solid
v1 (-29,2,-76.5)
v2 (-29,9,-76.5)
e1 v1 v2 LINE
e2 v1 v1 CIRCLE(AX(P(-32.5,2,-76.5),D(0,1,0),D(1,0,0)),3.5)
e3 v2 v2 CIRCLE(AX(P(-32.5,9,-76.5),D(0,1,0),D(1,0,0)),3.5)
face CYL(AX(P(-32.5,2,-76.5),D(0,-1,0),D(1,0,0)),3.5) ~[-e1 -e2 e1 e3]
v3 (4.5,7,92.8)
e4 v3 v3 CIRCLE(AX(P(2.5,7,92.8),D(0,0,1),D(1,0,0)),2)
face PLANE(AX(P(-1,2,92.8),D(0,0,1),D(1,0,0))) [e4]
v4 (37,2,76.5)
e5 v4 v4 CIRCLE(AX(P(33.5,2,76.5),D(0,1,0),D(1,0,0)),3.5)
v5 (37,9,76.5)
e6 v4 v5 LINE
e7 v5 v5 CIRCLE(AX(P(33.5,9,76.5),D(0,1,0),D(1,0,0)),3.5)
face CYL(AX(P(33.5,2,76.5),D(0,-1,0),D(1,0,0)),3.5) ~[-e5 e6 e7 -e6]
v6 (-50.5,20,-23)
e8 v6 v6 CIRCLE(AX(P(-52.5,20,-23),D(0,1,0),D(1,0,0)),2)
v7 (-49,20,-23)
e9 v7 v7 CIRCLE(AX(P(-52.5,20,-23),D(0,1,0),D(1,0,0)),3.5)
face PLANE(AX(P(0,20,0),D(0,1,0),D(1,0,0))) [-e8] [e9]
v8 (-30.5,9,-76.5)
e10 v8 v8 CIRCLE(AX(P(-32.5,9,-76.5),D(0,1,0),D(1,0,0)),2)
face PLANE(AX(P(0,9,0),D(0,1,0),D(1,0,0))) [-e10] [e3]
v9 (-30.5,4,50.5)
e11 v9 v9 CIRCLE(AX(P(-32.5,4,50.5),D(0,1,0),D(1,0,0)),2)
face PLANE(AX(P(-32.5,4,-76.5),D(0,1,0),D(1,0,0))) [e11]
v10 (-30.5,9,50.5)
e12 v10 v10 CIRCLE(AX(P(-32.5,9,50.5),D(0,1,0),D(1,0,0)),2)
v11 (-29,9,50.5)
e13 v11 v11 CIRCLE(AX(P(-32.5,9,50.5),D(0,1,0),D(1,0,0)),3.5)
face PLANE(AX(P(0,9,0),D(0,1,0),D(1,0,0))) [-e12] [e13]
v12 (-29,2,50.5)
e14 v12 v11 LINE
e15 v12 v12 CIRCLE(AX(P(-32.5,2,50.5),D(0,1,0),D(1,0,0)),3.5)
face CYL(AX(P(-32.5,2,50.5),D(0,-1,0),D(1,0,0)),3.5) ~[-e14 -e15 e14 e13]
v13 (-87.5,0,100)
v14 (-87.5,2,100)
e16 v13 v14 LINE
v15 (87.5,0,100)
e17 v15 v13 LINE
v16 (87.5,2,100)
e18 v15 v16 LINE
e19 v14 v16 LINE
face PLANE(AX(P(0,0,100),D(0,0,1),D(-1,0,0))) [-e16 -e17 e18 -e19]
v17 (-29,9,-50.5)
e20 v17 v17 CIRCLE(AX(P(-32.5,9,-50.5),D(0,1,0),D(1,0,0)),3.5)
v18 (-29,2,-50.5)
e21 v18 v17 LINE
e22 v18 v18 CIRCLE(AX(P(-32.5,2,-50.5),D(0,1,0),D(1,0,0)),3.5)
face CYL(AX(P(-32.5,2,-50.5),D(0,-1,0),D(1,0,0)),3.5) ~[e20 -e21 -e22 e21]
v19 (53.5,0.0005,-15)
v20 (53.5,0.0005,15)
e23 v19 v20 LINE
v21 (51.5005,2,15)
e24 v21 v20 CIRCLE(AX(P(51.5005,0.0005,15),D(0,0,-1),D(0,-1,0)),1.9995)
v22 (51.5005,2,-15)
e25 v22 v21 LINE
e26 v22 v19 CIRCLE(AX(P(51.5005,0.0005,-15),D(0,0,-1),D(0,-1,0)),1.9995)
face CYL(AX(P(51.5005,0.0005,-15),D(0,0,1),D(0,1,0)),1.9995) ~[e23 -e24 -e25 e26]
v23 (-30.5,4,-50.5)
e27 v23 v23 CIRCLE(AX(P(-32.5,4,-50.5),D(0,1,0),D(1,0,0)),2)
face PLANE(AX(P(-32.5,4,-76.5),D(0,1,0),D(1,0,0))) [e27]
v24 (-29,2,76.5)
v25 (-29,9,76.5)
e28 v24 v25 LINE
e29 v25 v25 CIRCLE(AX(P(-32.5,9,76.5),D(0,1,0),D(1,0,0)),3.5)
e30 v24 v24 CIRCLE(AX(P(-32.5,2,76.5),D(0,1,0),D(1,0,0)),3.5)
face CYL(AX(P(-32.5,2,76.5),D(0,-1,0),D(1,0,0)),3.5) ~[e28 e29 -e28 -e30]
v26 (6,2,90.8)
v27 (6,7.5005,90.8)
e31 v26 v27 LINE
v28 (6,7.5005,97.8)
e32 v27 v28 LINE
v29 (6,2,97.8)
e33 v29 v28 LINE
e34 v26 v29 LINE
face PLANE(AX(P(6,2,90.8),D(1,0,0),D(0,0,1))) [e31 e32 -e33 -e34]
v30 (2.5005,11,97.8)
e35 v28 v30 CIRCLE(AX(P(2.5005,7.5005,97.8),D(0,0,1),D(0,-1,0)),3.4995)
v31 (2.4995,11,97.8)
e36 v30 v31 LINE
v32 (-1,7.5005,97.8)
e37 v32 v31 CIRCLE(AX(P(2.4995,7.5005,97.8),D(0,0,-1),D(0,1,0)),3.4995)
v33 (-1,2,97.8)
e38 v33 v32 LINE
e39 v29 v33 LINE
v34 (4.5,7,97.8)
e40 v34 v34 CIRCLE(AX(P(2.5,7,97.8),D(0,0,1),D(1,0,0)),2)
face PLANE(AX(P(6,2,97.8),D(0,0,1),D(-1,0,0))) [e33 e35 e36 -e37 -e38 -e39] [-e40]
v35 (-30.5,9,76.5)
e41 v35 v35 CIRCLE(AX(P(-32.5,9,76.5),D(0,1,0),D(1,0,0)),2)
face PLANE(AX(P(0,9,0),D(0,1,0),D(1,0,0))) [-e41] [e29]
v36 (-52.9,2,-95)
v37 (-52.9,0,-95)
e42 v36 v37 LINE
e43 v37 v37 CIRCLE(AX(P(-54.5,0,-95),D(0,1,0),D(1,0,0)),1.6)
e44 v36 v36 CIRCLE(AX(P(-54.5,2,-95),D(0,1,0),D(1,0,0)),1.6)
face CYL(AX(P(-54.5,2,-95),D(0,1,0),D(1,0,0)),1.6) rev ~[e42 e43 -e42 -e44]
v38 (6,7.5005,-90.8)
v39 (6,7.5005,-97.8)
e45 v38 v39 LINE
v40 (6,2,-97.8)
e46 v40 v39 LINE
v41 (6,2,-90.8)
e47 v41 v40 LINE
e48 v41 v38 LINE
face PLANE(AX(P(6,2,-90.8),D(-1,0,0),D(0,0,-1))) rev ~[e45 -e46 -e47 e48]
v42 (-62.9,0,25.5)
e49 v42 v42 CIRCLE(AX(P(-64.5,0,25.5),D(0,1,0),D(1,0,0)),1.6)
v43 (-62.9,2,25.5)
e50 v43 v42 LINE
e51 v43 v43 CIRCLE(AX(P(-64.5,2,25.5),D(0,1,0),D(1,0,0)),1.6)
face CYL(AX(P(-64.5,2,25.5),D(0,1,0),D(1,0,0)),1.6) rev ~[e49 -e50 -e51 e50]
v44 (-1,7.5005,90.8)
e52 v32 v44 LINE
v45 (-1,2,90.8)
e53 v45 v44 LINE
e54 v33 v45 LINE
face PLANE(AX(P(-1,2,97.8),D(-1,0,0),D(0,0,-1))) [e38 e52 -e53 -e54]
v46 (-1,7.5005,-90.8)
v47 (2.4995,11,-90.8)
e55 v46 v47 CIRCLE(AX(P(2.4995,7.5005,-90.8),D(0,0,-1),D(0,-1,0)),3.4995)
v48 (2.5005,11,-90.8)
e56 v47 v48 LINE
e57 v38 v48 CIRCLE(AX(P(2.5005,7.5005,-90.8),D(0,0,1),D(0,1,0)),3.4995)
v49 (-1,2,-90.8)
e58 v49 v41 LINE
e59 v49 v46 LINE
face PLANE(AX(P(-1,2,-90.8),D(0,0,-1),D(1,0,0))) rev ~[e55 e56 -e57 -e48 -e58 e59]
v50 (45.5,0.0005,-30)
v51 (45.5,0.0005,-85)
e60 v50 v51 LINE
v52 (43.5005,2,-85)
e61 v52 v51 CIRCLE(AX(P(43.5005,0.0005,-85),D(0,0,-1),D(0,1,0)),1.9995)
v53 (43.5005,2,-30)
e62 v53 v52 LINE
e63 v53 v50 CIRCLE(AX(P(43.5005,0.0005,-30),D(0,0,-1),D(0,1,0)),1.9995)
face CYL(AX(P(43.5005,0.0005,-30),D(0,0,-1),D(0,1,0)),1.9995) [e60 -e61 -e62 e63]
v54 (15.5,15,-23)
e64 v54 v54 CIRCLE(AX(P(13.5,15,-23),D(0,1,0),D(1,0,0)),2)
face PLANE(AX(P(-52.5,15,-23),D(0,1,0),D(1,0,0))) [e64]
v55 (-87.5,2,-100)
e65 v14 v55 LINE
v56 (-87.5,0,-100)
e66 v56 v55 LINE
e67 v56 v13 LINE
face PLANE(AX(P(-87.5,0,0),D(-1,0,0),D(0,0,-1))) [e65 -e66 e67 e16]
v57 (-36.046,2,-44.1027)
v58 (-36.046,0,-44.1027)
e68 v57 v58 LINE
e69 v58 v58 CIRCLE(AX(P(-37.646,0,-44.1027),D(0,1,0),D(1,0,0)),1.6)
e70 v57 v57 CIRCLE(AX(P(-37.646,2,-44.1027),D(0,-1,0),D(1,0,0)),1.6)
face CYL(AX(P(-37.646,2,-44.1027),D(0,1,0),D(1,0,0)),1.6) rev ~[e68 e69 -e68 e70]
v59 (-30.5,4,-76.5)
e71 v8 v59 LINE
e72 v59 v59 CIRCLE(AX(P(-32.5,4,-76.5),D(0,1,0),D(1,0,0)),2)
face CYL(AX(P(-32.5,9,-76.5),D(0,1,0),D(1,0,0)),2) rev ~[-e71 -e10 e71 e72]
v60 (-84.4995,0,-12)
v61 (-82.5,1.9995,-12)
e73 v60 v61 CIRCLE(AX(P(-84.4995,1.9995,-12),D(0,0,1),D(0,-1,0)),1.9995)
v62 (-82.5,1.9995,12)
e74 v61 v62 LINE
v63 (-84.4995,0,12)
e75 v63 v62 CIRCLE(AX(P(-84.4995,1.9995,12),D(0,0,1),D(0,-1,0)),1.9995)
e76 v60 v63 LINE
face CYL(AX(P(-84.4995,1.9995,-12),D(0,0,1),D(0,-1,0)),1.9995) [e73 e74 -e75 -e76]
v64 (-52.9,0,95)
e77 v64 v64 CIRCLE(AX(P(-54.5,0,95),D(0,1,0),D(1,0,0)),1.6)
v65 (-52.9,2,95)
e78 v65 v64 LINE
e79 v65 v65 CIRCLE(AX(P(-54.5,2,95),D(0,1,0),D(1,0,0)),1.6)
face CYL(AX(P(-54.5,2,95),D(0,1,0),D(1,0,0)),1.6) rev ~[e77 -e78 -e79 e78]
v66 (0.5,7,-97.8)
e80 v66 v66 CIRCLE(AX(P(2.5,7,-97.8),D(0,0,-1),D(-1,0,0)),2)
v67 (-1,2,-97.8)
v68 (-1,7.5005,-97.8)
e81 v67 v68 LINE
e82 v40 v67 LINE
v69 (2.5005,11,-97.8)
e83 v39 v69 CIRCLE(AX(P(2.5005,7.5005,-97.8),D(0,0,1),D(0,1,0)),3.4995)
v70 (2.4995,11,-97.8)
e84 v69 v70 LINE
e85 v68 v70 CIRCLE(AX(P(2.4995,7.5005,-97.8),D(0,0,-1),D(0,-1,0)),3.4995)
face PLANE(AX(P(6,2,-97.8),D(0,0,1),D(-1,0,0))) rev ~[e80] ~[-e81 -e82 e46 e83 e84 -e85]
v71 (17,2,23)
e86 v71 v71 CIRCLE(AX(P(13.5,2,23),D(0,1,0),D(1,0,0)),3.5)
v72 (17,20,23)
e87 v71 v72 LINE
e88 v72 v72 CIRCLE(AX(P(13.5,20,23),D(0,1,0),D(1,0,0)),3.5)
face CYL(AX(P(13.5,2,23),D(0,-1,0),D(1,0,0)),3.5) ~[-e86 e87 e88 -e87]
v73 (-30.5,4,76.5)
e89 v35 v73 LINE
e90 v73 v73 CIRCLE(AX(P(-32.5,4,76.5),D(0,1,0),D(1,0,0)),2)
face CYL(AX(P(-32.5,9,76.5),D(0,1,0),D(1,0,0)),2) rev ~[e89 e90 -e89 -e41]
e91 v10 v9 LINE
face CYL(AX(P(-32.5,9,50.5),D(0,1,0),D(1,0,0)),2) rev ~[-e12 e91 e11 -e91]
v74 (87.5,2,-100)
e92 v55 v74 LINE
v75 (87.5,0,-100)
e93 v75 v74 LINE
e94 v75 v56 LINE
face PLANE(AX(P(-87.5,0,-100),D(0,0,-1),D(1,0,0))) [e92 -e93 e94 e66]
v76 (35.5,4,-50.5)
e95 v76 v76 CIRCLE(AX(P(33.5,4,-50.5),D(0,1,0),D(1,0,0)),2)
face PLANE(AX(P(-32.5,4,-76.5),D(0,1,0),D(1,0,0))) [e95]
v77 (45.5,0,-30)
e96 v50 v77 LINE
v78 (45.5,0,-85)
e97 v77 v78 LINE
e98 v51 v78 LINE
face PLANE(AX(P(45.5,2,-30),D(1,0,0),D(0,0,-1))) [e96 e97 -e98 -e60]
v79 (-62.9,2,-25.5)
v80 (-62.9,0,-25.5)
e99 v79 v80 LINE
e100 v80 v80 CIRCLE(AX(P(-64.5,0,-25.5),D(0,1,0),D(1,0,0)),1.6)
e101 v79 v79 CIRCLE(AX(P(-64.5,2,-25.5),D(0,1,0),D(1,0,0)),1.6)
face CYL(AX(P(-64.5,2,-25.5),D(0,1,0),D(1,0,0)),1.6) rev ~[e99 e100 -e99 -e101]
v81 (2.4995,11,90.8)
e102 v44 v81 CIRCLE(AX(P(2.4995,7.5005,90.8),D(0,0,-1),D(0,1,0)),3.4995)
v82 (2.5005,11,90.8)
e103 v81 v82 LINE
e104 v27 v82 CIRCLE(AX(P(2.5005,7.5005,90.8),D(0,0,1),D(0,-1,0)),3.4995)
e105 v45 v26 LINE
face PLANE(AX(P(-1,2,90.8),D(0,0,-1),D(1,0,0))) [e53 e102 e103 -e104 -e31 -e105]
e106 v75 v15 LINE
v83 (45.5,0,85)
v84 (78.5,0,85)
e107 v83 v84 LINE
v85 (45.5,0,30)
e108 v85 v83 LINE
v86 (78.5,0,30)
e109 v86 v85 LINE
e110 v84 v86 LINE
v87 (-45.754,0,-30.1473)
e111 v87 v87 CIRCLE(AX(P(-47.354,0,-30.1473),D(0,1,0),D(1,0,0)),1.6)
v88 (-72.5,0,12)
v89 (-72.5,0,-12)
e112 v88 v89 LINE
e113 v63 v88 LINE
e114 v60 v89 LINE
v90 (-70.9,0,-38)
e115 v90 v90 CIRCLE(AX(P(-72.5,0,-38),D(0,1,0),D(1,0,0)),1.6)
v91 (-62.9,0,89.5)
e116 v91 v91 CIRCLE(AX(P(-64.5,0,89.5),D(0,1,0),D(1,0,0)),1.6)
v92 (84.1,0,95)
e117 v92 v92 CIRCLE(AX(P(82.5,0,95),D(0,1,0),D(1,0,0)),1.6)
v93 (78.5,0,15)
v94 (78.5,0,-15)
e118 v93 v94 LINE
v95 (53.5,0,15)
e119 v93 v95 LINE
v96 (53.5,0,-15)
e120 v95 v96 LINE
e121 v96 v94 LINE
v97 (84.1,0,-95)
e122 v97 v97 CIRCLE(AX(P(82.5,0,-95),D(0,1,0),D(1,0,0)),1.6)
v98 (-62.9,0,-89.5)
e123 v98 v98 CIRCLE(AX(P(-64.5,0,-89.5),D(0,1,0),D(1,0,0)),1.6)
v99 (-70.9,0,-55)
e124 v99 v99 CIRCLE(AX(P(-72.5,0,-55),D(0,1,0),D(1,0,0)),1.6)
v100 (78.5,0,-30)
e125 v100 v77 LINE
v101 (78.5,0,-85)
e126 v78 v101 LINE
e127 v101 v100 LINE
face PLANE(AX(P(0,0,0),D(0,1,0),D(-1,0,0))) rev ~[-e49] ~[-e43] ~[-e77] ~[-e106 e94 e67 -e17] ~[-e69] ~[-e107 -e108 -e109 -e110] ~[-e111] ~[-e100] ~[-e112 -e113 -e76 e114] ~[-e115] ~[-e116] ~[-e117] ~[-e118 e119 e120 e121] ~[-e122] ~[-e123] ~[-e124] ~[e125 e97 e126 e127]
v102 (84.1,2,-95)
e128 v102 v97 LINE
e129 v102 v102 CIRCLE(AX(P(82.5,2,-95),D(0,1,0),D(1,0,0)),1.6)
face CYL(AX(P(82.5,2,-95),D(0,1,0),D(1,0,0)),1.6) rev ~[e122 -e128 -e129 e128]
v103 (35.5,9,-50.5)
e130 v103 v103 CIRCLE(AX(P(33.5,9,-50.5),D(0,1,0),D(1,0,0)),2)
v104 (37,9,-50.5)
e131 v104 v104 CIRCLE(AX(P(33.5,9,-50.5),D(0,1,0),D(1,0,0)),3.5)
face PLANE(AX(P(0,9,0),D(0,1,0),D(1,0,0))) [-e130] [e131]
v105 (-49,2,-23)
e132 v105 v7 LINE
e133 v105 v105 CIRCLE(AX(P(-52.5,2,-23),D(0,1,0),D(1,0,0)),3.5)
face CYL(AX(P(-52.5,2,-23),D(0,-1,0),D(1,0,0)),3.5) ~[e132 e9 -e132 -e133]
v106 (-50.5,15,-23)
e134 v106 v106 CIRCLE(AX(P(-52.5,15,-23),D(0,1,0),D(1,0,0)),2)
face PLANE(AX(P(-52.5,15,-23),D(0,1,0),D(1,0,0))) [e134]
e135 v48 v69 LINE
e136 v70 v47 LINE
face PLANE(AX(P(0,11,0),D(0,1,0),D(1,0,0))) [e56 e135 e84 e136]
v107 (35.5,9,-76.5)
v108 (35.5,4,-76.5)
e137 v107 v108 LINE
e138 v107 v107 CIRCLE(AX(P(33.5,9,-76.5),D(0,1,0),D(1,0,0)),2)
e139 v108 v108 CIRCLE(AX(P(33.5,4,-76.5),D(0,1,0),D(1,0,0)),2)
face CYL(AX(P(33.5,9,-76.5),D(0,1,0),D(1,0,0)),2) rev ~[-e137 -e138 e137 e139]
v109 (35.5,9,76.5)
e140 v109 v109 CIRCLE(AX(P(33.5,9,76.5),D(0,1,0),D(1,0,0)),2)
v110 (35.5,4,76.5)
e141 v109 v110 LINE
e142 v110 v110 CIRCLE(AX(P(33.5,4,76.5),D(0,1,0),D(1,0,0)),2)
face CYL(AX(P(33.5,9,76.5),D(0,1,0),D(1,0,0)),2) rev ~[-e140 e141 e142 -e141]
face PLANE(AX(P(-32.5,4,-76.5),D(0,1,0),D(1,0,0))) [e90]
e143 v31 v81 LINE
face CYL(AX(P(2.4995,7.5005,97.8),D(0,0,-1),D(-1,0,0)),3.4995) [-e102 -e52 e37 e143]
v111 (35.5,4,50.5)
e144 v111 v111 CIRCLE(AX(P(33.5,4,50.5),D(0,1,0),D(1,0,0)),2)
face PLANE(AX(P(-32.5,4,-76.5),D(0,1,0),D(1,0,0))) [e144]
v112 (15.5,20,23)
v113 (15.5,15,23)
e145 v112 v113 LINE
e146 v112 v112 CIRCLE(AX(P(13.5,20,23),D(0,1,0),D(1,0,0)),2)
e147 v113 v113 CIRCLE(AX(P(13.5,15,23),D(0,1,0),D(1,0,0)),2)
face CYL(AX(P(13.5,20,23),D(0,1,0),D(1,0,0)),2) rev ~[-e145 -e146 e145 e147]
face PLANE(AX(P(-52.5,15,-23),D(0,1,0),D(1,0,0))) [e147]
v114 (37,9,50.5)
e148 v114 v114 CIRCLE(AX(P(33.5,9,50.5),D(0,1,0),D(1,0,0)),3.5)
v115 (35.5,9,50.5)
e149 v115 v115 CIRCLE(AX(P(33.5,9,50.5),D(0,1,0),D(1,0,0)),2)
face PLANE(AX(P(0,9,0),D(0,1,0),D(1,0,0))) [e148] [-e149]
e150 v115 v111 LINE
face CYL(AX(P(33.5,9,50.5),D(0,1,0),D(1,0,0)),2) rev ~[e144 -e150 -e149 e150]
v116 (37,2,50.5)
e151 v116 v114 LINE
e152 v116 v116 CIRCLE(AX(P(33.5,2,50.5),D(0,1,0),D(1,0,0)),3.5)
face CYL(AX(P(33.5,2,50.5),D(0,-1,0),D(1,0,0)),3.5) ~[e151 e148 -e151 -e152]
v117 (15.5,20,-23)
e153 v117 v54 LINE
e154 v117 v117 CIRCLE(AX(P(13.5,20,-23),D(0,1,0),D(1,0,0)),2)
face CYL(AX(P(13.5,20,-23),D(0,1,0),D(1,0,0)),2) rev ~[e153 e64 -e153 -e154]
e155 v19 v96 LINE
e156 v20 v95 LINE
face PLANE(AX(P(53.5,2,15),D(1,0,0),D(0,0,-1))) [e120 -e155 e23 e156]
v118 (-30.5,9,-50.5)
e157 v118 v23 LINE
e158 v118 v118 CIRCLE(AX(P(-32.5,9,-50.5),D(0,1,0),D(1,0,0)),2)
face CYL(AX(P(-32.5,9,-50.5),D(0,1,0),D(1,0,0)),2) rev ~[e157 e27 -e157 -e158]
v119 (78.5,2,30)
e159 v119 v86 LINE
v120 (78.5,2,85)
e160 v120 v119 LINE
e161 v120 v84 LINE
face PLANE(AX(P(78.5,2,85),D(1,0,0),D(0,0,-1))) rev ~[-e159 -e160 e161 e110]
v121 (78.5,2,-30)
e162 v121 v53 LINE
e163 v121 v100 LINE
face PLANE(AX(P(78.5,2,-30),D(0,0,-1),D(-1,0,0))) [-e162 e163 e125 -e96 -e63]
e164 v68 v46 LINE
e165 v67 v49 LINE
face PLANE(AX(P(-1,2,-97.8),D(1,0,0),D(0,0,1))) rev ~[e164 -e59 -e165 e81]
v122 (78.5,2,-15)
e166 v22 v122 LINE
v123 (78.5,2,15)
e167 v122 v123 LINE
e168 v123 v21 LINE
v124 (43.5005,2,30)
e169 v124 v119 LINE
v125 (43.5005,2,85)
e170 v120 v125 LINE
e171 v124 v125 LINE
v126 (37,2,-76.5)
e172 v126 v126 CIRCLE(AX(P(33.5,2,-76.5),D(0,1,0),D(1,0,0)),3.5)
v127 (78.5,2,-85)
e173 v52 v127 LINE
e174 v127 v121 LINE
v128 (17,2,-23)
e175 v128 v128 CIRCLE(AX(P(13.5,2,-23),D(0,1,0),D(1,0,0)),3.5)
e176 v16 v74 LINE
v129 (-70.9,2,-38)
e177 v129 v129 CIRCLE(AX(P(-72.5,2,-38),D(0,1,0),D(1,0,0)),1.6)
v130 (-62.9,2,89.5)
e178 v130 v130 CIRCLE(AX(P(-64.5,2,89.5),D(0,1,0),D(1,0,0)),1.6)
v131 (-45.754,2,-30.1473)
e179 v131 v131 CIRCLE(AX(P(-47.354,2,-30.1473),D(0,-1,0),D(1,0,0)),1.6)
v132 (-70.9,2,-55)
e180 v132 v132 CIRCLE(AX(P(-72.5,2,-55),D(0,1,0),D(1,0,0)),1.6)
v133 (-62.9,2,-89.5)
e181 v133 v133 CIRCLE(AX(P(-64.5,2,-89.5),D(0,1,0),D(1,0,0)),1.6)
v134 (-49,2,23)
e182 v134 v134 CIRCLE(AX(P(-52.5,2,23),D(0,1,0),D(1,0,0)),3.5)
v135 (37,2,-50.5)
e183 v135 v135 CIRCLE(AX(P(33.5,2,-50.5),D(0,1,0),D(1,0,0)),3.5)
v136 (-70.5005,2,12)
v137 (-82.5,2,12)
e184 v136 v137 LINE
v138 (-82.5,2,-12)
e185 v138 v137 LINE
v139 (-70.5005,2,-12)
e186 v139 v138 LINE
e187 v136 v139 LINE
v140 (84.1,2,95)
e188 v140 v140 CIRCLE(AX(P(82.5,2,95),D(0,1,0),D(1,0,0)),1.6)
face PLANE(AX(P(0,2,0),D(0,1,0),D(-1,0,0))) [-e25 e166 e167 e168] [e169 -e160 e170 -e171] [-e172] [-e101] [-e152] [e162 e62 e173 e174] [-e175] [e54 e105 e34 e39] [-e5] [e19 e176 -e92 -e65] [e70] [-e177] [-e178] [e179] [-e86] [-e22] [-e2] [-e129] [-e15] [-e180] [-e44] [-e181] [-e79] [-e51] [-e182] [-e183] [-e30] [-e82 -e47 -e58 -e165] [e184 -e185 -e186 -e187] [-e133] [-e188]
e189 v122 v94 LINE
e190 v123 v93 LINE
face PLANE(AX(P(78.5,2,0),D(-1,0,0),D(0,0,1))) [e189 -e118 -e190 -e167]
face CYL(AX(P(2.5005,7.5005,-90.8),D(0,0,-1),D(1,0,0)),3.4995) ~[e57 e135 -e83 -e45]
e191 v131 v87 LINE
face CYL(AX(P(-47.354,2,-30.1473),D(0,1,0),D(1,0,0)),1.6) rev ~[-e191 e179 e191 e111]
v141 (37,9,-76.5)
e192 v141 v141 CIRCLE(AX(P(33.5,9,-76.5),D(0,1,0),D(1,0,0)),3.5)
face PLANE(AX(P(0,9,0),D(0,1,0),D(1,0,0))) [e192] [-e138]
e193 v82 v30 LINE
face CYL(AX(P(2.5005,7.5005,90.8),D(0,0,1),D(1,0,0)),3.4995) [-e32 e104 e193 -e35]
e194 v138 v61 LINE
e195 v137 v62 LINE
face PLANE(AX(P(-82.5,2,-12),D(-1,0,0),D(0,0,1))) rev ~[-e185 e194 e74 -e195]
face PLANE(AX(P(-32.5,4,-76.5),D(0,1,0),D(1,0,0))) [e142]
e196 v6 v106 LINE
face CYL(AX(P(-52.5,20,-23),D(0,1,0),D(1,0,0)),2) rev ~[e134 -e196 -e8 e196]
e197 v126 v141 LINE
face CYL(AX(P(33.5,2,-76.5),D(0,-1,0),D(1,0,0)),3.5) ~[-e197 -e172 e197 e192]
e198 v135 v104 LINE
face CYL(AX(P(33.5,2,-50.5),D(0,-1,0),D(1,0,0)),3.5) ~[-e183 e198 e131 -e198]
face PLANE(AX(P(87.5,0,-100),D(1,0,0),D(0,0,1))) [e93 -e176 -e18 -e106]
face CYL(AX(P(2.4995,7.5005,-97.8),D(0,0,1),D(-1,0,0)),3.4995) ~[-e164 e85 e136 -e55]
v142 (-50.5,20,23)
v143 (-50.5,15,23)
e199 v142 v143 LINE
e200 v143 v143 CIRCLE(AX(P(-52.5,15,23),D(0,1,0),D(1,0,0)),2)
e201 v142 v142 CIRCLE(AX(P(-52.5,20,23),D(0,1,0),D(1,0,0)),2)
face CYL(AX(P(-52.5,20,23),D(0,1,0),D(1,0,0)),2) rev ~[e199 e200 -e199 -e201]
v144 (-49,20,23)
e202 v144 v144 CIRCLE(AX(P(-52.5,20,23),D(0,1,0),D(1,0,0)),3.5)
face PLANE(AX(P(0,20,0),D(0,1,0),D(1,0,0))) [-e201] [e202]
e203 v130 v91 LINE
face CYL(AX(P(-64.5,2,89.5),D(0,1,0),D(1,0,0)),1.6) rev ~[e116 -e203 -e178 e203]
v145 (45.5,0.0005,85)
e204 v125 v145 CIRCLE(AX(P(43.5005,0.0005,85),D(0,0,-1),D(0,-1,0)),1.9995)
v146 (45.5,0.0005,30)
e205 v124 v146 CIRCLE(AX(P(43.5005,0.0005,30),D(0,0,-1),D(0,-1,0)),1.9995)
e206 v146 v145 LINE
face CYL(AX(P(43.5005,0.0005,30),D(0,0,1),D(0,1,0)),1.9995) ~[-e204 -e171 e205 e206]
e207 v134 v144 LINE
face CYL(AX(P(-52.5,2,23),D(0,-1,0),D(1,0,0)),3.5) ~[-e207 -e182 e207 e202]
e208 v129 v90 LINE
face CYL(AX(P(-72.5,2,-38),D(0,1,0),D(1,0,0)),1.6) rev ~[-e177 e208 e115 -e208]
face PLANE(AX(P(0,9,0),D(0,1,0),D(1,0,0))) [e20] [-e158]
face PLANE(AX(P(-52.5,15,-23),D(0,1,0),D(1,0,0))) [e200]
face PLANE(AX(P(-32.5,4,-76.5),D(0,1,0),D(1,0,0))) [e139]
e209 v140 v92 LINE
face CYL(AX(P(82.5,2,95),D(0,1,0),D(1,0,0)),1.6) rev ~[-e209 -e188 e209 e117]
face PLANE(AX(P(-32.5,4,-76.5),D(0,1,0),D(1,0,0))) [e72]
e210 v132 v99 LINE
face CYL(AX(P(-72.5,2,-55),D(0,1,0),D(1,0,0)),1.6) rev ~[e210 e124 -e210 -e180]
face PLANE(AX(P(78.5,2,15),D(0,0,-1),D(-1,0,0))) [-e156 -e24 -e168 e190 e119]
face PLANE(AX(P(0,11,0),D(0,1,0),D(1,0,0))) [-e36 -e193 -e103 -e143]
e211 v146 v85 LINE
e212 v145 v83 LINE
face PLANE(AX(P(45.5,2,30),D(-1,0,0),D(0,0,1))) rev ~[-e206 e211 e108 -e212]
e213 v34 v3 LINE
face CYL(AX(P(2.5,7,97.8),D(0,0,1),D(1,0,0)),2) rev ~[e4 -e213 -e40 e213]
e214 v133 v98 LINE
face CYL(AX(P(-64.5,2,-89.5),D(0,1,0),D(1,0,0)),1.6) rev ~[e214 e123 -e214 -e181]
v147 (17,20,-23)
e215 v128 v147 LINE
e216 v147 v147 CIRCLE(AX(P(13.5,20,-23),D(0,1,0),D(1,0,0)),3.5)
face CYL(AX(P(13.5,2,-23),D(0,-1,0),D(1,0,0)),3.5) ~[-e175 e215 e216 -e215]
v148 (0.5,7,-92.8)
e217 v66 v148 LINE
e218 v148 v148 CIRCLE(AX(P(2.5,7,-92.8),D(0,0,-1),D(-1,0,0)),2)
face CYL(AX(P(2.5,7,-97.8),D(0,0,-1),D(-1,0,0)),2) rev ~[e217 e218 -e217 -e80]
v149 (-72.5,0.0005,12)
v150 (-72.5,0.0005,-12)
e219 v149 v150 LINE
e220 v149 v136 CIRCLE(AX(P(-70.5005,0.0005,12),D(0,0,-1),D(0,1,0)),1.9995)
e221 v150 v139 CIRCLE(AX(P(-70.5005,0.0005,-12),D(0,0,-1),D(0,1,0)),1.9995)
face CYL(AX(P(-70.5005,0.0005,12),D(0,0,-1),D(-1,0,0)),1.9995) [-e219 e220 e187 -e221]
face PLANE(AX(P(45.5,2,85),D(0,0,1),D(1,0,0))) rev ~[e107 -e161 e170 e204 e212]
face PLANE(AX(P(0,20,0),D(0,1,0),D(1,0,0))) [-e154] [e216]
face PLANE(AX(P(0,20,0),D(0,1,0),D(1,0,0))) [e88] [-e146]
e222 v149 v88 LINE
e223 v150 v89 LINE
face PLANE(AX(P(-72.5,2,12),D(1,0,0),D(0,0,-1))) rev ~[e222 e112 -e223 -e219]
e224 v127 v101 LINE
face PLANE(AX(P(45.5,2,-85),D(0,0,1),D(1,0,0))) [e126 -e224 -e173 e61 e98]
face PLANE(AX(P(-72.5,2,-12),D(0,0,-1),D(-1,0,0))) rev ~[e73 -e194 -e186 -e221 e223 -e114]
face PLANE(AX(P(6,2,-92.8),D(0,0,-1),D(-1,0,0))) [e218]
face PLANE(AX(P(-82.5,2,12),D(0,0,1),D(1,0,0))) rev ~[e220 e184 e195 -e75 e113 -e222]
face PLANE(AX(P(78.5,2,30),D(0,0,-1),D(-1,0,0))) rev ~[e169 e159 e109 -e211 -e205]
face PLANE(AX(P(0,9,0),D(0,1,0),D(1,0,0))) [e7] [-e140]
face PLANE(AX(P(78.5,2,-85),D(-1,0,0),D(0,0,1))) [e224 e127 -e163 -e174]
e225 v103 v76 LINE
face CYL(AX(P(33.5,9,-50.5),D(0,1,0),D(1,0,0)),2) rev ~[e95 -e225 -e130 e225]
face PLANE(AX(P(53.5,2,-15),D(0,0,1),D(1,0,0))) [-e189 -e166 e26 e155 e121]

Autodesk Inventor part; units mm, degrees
ref_plane "YZ Plane" through (0, 0, 0) normal (1, 0, 0) x (0, 1, 0)
ref_plane "XZ Plane" through (0, 0, 0) normal (0, 1, 0) x (-1, 0, 0)
ref_plane "XY Plane" through (0, 0, 0) normal (0, 0, 1) x (1, 0, 0)
sketch "Skizze1" plane through (0, 0, 0) normal (0, 1, 0) x (-1, 0, 0)
  line L0 (87.5, -100) -> (-87.5, -100)
  line L1 (-87.5, -100) -> (-87.5, 100)
  line L2 (-87.5, 100) -> (87.5, 100)
  line L3 (87.5, 100) -> (87.5, -100)
  line L4 (0, -140) -> (0, 140) projected
  line L5 (-122.5, 0) -> (122.5, 0) projected
  point P0 (0, 0)
  dimension "d0" = 175
  dimension "d1" = 200
extrude "Extrusion1" add sketch "Skizze1" along normal blind 2
sketch "Skizze2" plane through (0, 2, 0) normal (0, 1, 0) x (1, 0, 0)
  circle A0 centre (-54.5, 95) radius 1.6
  line L0 (0, 140) -> (0, -140) projected
  line L1 (122.5, 0) -> (-122.5, 0) projected
  line L2 (87.5, 100) -> (-87.5, 100) projected
  circle A1 centre (82.5, 95) radius 1.6
  circle A2 centre (-54.5, -95) radius 1.6
  circle A3 centre (82.5, -95) radius 1.6
  line L3 (-87.5, 100) -> (-87.5, -100) projected
  line L4 (87.5, -100) -> (87.5, 100) projected
  point P0 (0, 0)
  dimension "d4" = 3.2
  dimension "d6" = 5
  dimension "d7" = 3.2
  dimension "d9" = 5
  dimension "d40" = 33
  dimension "d41" = 5
extrude "Extrusion2" cut sketch "Skizze2" against normal up to surface (2 mm away) contours A0 | A1 | A2 | A3
sketch "Skizze3" plane through (0, 2, 0) normal (0, 1, 0) x (1, 0, 0)
  line L0 (87.5, -100) -> (87.5, 100) projected
  line L1 (-87.5, -100) -> (87.5, -100) projected
  line L2 (87.5, 100) -> (-87.5, 100) projected
  circle A0 centre (-64.5, 89.5) radius 1.6
  line L3 (-87.5, 100) -> (-87.5, -100) projected
  circle A1 centre (-64.5, 25.5) radius 1.6
  circle A2 centre (-64.5, -25.5) radius 1.6
  circle A3 centre (-64.5, -89.5) radius 1.6
  point P0 (0, 0)
  dimension "d26" = 3.2
  dimension "d27" = 23
  dimension "d28" = 10.5
  dimension "d29" = 3.2
  dimension "d30" = 23
  dimension "d31" = 74.5
  dimension "d32" = 3.2
  dimension "d33" = 23
  dimension "d34" = 74.5
  dimension "d35" = 3.2
  dimension "d36" = 10.5
  dimension "d37" = 23
extrude "Extrusion4" cut sketch "Skizze3" against normal up to surface (2 mm away) contours A0 | A1 | A2 | A3
sketch "Skizze4" plane through (0, 2, 0) normal (0, 1, 0) x (1, 0, 0)
  line L0 (-82.5, -12) -> (-72.5, -12)
  line L1 (-72.5, -12) -> (-72.5, 12)
  line L2 (-72.5, 12) -> (-82.5, 12)
  line L3 (-82.5, 12) -> (-82.5, -12)
  line L4 (-82.5, -12) -> (-72.5, 12) construction
  line L5 (-72.5, -12) -> (-82.5, 12) construction
  line L6 (-87.5, 100) -> (-87.5, -100) projected
  line L7 (87.5, 100) -> (-87.5, 100) projected
  point P0 (0, 0)
  point P1 (-77.5, 0)
  dimension "d42" = 10
  dimension "d43" = 24
  dimension "d44" = 5
  dimension "d45" = 88
extrude "Extrusion5" cut sketch "Skizze4" against normal up to surface (2 mm away)
fillet "Rundung1" radius 2 1 edges at (-82.5, 0, 0)
fillet "Rundung2" radius 2 1 edges at (-72.5, 2, 0)
sketch "Skizze5" plane through (0, 2, 0) normal (0, 1, 0) x (1, 0, 0)
  circle A0 centre (-32.5, 76.5) radius 3.5
  circle A1 centre (33.5, 76.5) radius 3.5
  circle A2 centre (-32.5, 50.5) radius 3.5
  circle A3 centre (33.5, 50.5) radius 3.5
  line L0 (87.5, 100) -> (-87.5, 100) projected
  line L1 (-87.5, 100) -> (-87.5, -100) projected
  line L2 (45.5, 85) -> (78.5, 85)
  line L3 (78.5, 85) -> (78.5, 30)
  line L4 (78.5, 30) -> (45.5, 30)
  line L5 (45.5, 30) -> (45.5, 85)
  line L6 (122.5, 0) -> (-122.5, 0) projected
  circle A4 centre (-32.5, -76.5) radius 3.5
  circle A5 centre (33.5, -76.5) radius 3.5
  circle A6 centre (-32.5, -50.5) radius 3.5
  circle A7 centre (33.5, -50.5) radius 3.5
  line L7 (45.5, -85) -> (78.5, -85)
  line L8 (78.5, -85) -> (78.5, -30)
  line L9 (78.5, -30) -> (45.5, -30)
  line L10 (45.5, -30) -> (45.5, -85)
  circle A8 centre (-52.5, 23) radius 3.5
  circle A9 centre (-52.5, -23) radius 3.5
  circle A10 centre (13.5, 23) radius 3.5
  circle A11 centre (13.5, -23) radius 3.5
  line L11 (53.5, 15) -> (78.5, 15)
  line L12 (78.5, 15) -> (78.5, -15)
  line L13 (78.5, -15) -> (53.5, -15)
  line L14 (53.5, -15) -> (53.5, 15)
  line L15 (87.5, -100) -> (87.5, 100) projected
  point P0 (0, 0)
  dimension "d50" = 7
  dimension "d51" = 7
  dimension "d52" = 7
  dimension "d53" = 7
  dimension "d54" = 23.5
  dimension "d55" = 23.5
  dimension "d56" = 55
  dimension "d57" = 66
  dimension "d58" = 55
  dimension "d59" = 66
  dimension "d60" = 26
  dimension "d61" = 26
  dimension "d62" = 33
  dimension "d63" = 12
  dimension "d64" = 15
  dimension "d65" = 55
  dimension "d81" = 7
  dimension "d82" = 7
  dimension "d83" = 7
  dimension "d84" = 7
  dimension "d85" = 35
  dimension "d86" = 35
  dimension "d87" = 46
  dimension "d88" = 46
  dimension "d89" = 23
  dimension "d90" = 23
  dimension "d91" = 66
  dimension "d92" = 66
  dimension "d93" = 25
  dimension "d94" = 30
  dimension "d95" = 9
extrude "Extrusion6" add sketch "Skizze5" along normal blind 7 contours A0 | A1 | A2 | A3 | A4 | A5 | A6 | A7
extrude "Extrusion8" cut sketch "Skizze5" against normal up to surface (2 mm away) contours L12 L13 L14 L6 | L6 L14 L11 L12 | L2 L3 L4 L5 | L10 L9 L8 L7
fillet "Rundung3" radius 2 3 edges at (45.5, 2, -57.5) (45.5, 2, 57.5) (53.5, 2, 0)
extrude "Extrusion9" add sketch "Skizze5" along normal blind 18 contours A8 | A9 | A10 | A11
sketch "Skizze6" plane through (-32.5, 9, -76.5) normal (0, 1, 0) x (1, 0, 0)
  circle A0 centre (0, 0) radius 3.5 projected
  circle A1 centre (0, -26) radius 3.5 projected
  circle A2 centre (66, -26) radius 3.5 projected
  circle A3 centre (66, 0) radius 3.5 projected
  circle A4 centre (66, -127) radius 3.5 projected
  circle A5 centre (66, -153) radius 3.5 projected
  circle A6 centre (0, -153) radius 3.5 projected
  circle A7 centre (0, -127) radius 3.5 projected
  circle A8 centre (0, 0) radius 2
  circle A9 centre (0, -26) radius 2
  circle A10 centre (66, -26) radius 2
  circle A11 centre (66, 0) radius 2
  circle A12 centre (0, -127) radius 3.5 projected
  circle A13 centre (0, -127) radius 2
  circle A14 centre (0, -153) radius 2
  circle A15 centre (66, -127) radius 3.5 projected
  circle A16 centre (66, -127) radius 2
  circle A17 centre (66, -153) radius 2
  point P0 (32.5, -76.5)
  dimension "d68" = 4
  dimension "d69" = 4
  dimension "d70" = 4
  dimension "d71" = 4
  dimension "d72" = 4
  dimension "d73" = 4
  dimension "d74" = 4
  dimension "d75" = 4
extrude "Extrusion7" cut sketch "Skizze6" against normal blind 5 contours A8 | A9 | A10 | A11 | A13 | A14 | A16 | A17
sketch "Skizze8" plane through (-52.5, 20, -23) normal (0, 1, 0) x (1, 0, 0)
  circle A0 centre (0, 0) radius 3.5 projected
  circle A1 centre (66, 0) radius 3.5 projected
  circle A2 centre (66, -46) radius 3.5 projected
  circle A3 centre (0, -46) radius 3.5 projected
  circle A4 centre (0, 0) radius 3.5 projected
  circle A5 centre (0, 0) radius 2
  circle A6 centre (66, 0) radius 3.5 projected
  circle A7 centre (66, 0) radius 2
  circle A8 centre (66, -46) radius 3.5 projected
  circle A9 centre (66, -46) radius 2
  circle A10 centre (0, -46) radius 3.5 projected
  circle A11 centre (0, -46) radius 2
  point P0 (52.5, -23)
  dimension "d98" = 4
  dimension "d99" = 4
  dimension "d100" = 4
  dimension "d101" = 4
extrude "Extrusion10" cut sketch "Skizze8" against normal blind 5 contours A5 | A7 | A9 | A11
sketch "Skizze9" plane through (0, 2, 0) normal (0, 1, 0) x (1, 0, 0)
  circle A0 centre (-52.5, 22.75) radius 1.75
  circle A1 centre (-32.5, 51.5) radius 1
  line L0 (-52.5, 22.75) -> (-32.5, 51.5)
  circle A2 centre (-47.354, 30.1473) radius 1.6
  circle A3 centre (-37.646, 44.1027) radius 1.6
  circle A4 centre (-42.5, 37.125) radius 0.1
  circle A5 centre (-72.5, 55) radius 1.6
  circle A6 centre (-72.5, 38) radius 1.6
  line L1 (-87.5, 100) -> (-87.5, -100) projected
  line L2 (122.5, 0) -> (-122.5, 0) projected
  line L3 (87.5, 100) -> (-87.5, 100) projected
  circle A7 centre (-32.5, 50.5) radius 3.5 projected
  circle A8 centre (-52.5, 23) radius 3.5 projected
  point P0 (0, 0)
  dimension "d104" = 3.2
  dimension "d105" = 3.2
  dimension "d106" = 13.8
  dimension "d107" = 0.2
  dimension "d108" = 6.8
  dimension "d109" = 3.2
  dimension "d110" = 3.2
  dimension "d111" = 15
  dimension "d112" = 15
  dimension "d113" = 17
  dimension "d134" = 55.8973
  dimension "d135" = 49.8541
  dimension "d136" = 40.1459
  dimension "d137" = 45
  dimension "d138" = 1.5
  dimension "d139" = 1.5
extrude "Extrusion11" cut sketch "Skizze9" against normal up to surface (2 mm away) contours A3 L0 | L0 A3 | A2 L0 | L0 A2 | A5 | A6
sketch "Skizze10" plane through (0, 2, 0) normal (0, 1, 0) x (1, 0, 0)
  line L0 (-1, -90.8) -> (6, -90.8)
  line L1 (6, -90.8) -> (6, -97.8)
  line L2 (6, -97.8) -> (-1, -97.8)
  line L3 (-1, -97.8) -> (-1, -90.8)
  line L4 (-87.5, -100) -> (87.5, -100) projected
  line L5 (87.5, -100) -> (87.5, 100) projected
  line L6 (122.5, 0) -> (-122.5, 0) projected
  line L7 (-1, 90.8) -> (6, 90.8)
  line L8 (6, 90.8) -> (6, 97.8)
  line L9 (6, 97.8) -> (-1, 97.8)
  line L10 (-1, 97.8) -> (-1, 90.8)
  point P0 (0, 0)
  dimension "d117" = 7
  dimension "d118" = 7
  dimension "d119" = 2.2
  dimension "d120" = 81.5
extrude "Extrusion12" add sketch "Skizze10" along normal blind 9
sketch "Skizze11" plane through (-1, 2, 97.8) normal (0, 0, 1) x (1, 0, 0)
  circle A0 centre (3.5, 5) radius 2
  line L0 (7, 0) -> (0, 0) projected
  line L1 (7, 0) -> (7, 9) projected
  point P0 (1, -2)
  dimension "d123" = 4
  dimension "d124" = 5
  dimension "d125" = 3.5
extrude "Extrusion13" cut sketch "Skizze11" against normal blind 5
sketch "Skizze12" plane through (6, 2, -97.8) normal (0, 0, -1) x (-1, 0, 0)
  circle A0 centre (3.5, 5) radius 2
  line L0 (7, 0) -> (0, 0) projected
  line L1 (7, 0) -> (7, 9) projected
  point P0 (6, -2)
  dimension "d128" = 4
  dimension "d129" = 5
  dimension "d130" = 3.5
extrude "Extrusion14" cut sketch "Skizze12" against normal blind 5
fillet "Rundung4" radius 3.5 4 edges at (6, 11, -94.3) (-1, 11, -94.3) (-1, 11, 94.3) (6, 11, 94.3)
properties part number "_3D-Druck"
